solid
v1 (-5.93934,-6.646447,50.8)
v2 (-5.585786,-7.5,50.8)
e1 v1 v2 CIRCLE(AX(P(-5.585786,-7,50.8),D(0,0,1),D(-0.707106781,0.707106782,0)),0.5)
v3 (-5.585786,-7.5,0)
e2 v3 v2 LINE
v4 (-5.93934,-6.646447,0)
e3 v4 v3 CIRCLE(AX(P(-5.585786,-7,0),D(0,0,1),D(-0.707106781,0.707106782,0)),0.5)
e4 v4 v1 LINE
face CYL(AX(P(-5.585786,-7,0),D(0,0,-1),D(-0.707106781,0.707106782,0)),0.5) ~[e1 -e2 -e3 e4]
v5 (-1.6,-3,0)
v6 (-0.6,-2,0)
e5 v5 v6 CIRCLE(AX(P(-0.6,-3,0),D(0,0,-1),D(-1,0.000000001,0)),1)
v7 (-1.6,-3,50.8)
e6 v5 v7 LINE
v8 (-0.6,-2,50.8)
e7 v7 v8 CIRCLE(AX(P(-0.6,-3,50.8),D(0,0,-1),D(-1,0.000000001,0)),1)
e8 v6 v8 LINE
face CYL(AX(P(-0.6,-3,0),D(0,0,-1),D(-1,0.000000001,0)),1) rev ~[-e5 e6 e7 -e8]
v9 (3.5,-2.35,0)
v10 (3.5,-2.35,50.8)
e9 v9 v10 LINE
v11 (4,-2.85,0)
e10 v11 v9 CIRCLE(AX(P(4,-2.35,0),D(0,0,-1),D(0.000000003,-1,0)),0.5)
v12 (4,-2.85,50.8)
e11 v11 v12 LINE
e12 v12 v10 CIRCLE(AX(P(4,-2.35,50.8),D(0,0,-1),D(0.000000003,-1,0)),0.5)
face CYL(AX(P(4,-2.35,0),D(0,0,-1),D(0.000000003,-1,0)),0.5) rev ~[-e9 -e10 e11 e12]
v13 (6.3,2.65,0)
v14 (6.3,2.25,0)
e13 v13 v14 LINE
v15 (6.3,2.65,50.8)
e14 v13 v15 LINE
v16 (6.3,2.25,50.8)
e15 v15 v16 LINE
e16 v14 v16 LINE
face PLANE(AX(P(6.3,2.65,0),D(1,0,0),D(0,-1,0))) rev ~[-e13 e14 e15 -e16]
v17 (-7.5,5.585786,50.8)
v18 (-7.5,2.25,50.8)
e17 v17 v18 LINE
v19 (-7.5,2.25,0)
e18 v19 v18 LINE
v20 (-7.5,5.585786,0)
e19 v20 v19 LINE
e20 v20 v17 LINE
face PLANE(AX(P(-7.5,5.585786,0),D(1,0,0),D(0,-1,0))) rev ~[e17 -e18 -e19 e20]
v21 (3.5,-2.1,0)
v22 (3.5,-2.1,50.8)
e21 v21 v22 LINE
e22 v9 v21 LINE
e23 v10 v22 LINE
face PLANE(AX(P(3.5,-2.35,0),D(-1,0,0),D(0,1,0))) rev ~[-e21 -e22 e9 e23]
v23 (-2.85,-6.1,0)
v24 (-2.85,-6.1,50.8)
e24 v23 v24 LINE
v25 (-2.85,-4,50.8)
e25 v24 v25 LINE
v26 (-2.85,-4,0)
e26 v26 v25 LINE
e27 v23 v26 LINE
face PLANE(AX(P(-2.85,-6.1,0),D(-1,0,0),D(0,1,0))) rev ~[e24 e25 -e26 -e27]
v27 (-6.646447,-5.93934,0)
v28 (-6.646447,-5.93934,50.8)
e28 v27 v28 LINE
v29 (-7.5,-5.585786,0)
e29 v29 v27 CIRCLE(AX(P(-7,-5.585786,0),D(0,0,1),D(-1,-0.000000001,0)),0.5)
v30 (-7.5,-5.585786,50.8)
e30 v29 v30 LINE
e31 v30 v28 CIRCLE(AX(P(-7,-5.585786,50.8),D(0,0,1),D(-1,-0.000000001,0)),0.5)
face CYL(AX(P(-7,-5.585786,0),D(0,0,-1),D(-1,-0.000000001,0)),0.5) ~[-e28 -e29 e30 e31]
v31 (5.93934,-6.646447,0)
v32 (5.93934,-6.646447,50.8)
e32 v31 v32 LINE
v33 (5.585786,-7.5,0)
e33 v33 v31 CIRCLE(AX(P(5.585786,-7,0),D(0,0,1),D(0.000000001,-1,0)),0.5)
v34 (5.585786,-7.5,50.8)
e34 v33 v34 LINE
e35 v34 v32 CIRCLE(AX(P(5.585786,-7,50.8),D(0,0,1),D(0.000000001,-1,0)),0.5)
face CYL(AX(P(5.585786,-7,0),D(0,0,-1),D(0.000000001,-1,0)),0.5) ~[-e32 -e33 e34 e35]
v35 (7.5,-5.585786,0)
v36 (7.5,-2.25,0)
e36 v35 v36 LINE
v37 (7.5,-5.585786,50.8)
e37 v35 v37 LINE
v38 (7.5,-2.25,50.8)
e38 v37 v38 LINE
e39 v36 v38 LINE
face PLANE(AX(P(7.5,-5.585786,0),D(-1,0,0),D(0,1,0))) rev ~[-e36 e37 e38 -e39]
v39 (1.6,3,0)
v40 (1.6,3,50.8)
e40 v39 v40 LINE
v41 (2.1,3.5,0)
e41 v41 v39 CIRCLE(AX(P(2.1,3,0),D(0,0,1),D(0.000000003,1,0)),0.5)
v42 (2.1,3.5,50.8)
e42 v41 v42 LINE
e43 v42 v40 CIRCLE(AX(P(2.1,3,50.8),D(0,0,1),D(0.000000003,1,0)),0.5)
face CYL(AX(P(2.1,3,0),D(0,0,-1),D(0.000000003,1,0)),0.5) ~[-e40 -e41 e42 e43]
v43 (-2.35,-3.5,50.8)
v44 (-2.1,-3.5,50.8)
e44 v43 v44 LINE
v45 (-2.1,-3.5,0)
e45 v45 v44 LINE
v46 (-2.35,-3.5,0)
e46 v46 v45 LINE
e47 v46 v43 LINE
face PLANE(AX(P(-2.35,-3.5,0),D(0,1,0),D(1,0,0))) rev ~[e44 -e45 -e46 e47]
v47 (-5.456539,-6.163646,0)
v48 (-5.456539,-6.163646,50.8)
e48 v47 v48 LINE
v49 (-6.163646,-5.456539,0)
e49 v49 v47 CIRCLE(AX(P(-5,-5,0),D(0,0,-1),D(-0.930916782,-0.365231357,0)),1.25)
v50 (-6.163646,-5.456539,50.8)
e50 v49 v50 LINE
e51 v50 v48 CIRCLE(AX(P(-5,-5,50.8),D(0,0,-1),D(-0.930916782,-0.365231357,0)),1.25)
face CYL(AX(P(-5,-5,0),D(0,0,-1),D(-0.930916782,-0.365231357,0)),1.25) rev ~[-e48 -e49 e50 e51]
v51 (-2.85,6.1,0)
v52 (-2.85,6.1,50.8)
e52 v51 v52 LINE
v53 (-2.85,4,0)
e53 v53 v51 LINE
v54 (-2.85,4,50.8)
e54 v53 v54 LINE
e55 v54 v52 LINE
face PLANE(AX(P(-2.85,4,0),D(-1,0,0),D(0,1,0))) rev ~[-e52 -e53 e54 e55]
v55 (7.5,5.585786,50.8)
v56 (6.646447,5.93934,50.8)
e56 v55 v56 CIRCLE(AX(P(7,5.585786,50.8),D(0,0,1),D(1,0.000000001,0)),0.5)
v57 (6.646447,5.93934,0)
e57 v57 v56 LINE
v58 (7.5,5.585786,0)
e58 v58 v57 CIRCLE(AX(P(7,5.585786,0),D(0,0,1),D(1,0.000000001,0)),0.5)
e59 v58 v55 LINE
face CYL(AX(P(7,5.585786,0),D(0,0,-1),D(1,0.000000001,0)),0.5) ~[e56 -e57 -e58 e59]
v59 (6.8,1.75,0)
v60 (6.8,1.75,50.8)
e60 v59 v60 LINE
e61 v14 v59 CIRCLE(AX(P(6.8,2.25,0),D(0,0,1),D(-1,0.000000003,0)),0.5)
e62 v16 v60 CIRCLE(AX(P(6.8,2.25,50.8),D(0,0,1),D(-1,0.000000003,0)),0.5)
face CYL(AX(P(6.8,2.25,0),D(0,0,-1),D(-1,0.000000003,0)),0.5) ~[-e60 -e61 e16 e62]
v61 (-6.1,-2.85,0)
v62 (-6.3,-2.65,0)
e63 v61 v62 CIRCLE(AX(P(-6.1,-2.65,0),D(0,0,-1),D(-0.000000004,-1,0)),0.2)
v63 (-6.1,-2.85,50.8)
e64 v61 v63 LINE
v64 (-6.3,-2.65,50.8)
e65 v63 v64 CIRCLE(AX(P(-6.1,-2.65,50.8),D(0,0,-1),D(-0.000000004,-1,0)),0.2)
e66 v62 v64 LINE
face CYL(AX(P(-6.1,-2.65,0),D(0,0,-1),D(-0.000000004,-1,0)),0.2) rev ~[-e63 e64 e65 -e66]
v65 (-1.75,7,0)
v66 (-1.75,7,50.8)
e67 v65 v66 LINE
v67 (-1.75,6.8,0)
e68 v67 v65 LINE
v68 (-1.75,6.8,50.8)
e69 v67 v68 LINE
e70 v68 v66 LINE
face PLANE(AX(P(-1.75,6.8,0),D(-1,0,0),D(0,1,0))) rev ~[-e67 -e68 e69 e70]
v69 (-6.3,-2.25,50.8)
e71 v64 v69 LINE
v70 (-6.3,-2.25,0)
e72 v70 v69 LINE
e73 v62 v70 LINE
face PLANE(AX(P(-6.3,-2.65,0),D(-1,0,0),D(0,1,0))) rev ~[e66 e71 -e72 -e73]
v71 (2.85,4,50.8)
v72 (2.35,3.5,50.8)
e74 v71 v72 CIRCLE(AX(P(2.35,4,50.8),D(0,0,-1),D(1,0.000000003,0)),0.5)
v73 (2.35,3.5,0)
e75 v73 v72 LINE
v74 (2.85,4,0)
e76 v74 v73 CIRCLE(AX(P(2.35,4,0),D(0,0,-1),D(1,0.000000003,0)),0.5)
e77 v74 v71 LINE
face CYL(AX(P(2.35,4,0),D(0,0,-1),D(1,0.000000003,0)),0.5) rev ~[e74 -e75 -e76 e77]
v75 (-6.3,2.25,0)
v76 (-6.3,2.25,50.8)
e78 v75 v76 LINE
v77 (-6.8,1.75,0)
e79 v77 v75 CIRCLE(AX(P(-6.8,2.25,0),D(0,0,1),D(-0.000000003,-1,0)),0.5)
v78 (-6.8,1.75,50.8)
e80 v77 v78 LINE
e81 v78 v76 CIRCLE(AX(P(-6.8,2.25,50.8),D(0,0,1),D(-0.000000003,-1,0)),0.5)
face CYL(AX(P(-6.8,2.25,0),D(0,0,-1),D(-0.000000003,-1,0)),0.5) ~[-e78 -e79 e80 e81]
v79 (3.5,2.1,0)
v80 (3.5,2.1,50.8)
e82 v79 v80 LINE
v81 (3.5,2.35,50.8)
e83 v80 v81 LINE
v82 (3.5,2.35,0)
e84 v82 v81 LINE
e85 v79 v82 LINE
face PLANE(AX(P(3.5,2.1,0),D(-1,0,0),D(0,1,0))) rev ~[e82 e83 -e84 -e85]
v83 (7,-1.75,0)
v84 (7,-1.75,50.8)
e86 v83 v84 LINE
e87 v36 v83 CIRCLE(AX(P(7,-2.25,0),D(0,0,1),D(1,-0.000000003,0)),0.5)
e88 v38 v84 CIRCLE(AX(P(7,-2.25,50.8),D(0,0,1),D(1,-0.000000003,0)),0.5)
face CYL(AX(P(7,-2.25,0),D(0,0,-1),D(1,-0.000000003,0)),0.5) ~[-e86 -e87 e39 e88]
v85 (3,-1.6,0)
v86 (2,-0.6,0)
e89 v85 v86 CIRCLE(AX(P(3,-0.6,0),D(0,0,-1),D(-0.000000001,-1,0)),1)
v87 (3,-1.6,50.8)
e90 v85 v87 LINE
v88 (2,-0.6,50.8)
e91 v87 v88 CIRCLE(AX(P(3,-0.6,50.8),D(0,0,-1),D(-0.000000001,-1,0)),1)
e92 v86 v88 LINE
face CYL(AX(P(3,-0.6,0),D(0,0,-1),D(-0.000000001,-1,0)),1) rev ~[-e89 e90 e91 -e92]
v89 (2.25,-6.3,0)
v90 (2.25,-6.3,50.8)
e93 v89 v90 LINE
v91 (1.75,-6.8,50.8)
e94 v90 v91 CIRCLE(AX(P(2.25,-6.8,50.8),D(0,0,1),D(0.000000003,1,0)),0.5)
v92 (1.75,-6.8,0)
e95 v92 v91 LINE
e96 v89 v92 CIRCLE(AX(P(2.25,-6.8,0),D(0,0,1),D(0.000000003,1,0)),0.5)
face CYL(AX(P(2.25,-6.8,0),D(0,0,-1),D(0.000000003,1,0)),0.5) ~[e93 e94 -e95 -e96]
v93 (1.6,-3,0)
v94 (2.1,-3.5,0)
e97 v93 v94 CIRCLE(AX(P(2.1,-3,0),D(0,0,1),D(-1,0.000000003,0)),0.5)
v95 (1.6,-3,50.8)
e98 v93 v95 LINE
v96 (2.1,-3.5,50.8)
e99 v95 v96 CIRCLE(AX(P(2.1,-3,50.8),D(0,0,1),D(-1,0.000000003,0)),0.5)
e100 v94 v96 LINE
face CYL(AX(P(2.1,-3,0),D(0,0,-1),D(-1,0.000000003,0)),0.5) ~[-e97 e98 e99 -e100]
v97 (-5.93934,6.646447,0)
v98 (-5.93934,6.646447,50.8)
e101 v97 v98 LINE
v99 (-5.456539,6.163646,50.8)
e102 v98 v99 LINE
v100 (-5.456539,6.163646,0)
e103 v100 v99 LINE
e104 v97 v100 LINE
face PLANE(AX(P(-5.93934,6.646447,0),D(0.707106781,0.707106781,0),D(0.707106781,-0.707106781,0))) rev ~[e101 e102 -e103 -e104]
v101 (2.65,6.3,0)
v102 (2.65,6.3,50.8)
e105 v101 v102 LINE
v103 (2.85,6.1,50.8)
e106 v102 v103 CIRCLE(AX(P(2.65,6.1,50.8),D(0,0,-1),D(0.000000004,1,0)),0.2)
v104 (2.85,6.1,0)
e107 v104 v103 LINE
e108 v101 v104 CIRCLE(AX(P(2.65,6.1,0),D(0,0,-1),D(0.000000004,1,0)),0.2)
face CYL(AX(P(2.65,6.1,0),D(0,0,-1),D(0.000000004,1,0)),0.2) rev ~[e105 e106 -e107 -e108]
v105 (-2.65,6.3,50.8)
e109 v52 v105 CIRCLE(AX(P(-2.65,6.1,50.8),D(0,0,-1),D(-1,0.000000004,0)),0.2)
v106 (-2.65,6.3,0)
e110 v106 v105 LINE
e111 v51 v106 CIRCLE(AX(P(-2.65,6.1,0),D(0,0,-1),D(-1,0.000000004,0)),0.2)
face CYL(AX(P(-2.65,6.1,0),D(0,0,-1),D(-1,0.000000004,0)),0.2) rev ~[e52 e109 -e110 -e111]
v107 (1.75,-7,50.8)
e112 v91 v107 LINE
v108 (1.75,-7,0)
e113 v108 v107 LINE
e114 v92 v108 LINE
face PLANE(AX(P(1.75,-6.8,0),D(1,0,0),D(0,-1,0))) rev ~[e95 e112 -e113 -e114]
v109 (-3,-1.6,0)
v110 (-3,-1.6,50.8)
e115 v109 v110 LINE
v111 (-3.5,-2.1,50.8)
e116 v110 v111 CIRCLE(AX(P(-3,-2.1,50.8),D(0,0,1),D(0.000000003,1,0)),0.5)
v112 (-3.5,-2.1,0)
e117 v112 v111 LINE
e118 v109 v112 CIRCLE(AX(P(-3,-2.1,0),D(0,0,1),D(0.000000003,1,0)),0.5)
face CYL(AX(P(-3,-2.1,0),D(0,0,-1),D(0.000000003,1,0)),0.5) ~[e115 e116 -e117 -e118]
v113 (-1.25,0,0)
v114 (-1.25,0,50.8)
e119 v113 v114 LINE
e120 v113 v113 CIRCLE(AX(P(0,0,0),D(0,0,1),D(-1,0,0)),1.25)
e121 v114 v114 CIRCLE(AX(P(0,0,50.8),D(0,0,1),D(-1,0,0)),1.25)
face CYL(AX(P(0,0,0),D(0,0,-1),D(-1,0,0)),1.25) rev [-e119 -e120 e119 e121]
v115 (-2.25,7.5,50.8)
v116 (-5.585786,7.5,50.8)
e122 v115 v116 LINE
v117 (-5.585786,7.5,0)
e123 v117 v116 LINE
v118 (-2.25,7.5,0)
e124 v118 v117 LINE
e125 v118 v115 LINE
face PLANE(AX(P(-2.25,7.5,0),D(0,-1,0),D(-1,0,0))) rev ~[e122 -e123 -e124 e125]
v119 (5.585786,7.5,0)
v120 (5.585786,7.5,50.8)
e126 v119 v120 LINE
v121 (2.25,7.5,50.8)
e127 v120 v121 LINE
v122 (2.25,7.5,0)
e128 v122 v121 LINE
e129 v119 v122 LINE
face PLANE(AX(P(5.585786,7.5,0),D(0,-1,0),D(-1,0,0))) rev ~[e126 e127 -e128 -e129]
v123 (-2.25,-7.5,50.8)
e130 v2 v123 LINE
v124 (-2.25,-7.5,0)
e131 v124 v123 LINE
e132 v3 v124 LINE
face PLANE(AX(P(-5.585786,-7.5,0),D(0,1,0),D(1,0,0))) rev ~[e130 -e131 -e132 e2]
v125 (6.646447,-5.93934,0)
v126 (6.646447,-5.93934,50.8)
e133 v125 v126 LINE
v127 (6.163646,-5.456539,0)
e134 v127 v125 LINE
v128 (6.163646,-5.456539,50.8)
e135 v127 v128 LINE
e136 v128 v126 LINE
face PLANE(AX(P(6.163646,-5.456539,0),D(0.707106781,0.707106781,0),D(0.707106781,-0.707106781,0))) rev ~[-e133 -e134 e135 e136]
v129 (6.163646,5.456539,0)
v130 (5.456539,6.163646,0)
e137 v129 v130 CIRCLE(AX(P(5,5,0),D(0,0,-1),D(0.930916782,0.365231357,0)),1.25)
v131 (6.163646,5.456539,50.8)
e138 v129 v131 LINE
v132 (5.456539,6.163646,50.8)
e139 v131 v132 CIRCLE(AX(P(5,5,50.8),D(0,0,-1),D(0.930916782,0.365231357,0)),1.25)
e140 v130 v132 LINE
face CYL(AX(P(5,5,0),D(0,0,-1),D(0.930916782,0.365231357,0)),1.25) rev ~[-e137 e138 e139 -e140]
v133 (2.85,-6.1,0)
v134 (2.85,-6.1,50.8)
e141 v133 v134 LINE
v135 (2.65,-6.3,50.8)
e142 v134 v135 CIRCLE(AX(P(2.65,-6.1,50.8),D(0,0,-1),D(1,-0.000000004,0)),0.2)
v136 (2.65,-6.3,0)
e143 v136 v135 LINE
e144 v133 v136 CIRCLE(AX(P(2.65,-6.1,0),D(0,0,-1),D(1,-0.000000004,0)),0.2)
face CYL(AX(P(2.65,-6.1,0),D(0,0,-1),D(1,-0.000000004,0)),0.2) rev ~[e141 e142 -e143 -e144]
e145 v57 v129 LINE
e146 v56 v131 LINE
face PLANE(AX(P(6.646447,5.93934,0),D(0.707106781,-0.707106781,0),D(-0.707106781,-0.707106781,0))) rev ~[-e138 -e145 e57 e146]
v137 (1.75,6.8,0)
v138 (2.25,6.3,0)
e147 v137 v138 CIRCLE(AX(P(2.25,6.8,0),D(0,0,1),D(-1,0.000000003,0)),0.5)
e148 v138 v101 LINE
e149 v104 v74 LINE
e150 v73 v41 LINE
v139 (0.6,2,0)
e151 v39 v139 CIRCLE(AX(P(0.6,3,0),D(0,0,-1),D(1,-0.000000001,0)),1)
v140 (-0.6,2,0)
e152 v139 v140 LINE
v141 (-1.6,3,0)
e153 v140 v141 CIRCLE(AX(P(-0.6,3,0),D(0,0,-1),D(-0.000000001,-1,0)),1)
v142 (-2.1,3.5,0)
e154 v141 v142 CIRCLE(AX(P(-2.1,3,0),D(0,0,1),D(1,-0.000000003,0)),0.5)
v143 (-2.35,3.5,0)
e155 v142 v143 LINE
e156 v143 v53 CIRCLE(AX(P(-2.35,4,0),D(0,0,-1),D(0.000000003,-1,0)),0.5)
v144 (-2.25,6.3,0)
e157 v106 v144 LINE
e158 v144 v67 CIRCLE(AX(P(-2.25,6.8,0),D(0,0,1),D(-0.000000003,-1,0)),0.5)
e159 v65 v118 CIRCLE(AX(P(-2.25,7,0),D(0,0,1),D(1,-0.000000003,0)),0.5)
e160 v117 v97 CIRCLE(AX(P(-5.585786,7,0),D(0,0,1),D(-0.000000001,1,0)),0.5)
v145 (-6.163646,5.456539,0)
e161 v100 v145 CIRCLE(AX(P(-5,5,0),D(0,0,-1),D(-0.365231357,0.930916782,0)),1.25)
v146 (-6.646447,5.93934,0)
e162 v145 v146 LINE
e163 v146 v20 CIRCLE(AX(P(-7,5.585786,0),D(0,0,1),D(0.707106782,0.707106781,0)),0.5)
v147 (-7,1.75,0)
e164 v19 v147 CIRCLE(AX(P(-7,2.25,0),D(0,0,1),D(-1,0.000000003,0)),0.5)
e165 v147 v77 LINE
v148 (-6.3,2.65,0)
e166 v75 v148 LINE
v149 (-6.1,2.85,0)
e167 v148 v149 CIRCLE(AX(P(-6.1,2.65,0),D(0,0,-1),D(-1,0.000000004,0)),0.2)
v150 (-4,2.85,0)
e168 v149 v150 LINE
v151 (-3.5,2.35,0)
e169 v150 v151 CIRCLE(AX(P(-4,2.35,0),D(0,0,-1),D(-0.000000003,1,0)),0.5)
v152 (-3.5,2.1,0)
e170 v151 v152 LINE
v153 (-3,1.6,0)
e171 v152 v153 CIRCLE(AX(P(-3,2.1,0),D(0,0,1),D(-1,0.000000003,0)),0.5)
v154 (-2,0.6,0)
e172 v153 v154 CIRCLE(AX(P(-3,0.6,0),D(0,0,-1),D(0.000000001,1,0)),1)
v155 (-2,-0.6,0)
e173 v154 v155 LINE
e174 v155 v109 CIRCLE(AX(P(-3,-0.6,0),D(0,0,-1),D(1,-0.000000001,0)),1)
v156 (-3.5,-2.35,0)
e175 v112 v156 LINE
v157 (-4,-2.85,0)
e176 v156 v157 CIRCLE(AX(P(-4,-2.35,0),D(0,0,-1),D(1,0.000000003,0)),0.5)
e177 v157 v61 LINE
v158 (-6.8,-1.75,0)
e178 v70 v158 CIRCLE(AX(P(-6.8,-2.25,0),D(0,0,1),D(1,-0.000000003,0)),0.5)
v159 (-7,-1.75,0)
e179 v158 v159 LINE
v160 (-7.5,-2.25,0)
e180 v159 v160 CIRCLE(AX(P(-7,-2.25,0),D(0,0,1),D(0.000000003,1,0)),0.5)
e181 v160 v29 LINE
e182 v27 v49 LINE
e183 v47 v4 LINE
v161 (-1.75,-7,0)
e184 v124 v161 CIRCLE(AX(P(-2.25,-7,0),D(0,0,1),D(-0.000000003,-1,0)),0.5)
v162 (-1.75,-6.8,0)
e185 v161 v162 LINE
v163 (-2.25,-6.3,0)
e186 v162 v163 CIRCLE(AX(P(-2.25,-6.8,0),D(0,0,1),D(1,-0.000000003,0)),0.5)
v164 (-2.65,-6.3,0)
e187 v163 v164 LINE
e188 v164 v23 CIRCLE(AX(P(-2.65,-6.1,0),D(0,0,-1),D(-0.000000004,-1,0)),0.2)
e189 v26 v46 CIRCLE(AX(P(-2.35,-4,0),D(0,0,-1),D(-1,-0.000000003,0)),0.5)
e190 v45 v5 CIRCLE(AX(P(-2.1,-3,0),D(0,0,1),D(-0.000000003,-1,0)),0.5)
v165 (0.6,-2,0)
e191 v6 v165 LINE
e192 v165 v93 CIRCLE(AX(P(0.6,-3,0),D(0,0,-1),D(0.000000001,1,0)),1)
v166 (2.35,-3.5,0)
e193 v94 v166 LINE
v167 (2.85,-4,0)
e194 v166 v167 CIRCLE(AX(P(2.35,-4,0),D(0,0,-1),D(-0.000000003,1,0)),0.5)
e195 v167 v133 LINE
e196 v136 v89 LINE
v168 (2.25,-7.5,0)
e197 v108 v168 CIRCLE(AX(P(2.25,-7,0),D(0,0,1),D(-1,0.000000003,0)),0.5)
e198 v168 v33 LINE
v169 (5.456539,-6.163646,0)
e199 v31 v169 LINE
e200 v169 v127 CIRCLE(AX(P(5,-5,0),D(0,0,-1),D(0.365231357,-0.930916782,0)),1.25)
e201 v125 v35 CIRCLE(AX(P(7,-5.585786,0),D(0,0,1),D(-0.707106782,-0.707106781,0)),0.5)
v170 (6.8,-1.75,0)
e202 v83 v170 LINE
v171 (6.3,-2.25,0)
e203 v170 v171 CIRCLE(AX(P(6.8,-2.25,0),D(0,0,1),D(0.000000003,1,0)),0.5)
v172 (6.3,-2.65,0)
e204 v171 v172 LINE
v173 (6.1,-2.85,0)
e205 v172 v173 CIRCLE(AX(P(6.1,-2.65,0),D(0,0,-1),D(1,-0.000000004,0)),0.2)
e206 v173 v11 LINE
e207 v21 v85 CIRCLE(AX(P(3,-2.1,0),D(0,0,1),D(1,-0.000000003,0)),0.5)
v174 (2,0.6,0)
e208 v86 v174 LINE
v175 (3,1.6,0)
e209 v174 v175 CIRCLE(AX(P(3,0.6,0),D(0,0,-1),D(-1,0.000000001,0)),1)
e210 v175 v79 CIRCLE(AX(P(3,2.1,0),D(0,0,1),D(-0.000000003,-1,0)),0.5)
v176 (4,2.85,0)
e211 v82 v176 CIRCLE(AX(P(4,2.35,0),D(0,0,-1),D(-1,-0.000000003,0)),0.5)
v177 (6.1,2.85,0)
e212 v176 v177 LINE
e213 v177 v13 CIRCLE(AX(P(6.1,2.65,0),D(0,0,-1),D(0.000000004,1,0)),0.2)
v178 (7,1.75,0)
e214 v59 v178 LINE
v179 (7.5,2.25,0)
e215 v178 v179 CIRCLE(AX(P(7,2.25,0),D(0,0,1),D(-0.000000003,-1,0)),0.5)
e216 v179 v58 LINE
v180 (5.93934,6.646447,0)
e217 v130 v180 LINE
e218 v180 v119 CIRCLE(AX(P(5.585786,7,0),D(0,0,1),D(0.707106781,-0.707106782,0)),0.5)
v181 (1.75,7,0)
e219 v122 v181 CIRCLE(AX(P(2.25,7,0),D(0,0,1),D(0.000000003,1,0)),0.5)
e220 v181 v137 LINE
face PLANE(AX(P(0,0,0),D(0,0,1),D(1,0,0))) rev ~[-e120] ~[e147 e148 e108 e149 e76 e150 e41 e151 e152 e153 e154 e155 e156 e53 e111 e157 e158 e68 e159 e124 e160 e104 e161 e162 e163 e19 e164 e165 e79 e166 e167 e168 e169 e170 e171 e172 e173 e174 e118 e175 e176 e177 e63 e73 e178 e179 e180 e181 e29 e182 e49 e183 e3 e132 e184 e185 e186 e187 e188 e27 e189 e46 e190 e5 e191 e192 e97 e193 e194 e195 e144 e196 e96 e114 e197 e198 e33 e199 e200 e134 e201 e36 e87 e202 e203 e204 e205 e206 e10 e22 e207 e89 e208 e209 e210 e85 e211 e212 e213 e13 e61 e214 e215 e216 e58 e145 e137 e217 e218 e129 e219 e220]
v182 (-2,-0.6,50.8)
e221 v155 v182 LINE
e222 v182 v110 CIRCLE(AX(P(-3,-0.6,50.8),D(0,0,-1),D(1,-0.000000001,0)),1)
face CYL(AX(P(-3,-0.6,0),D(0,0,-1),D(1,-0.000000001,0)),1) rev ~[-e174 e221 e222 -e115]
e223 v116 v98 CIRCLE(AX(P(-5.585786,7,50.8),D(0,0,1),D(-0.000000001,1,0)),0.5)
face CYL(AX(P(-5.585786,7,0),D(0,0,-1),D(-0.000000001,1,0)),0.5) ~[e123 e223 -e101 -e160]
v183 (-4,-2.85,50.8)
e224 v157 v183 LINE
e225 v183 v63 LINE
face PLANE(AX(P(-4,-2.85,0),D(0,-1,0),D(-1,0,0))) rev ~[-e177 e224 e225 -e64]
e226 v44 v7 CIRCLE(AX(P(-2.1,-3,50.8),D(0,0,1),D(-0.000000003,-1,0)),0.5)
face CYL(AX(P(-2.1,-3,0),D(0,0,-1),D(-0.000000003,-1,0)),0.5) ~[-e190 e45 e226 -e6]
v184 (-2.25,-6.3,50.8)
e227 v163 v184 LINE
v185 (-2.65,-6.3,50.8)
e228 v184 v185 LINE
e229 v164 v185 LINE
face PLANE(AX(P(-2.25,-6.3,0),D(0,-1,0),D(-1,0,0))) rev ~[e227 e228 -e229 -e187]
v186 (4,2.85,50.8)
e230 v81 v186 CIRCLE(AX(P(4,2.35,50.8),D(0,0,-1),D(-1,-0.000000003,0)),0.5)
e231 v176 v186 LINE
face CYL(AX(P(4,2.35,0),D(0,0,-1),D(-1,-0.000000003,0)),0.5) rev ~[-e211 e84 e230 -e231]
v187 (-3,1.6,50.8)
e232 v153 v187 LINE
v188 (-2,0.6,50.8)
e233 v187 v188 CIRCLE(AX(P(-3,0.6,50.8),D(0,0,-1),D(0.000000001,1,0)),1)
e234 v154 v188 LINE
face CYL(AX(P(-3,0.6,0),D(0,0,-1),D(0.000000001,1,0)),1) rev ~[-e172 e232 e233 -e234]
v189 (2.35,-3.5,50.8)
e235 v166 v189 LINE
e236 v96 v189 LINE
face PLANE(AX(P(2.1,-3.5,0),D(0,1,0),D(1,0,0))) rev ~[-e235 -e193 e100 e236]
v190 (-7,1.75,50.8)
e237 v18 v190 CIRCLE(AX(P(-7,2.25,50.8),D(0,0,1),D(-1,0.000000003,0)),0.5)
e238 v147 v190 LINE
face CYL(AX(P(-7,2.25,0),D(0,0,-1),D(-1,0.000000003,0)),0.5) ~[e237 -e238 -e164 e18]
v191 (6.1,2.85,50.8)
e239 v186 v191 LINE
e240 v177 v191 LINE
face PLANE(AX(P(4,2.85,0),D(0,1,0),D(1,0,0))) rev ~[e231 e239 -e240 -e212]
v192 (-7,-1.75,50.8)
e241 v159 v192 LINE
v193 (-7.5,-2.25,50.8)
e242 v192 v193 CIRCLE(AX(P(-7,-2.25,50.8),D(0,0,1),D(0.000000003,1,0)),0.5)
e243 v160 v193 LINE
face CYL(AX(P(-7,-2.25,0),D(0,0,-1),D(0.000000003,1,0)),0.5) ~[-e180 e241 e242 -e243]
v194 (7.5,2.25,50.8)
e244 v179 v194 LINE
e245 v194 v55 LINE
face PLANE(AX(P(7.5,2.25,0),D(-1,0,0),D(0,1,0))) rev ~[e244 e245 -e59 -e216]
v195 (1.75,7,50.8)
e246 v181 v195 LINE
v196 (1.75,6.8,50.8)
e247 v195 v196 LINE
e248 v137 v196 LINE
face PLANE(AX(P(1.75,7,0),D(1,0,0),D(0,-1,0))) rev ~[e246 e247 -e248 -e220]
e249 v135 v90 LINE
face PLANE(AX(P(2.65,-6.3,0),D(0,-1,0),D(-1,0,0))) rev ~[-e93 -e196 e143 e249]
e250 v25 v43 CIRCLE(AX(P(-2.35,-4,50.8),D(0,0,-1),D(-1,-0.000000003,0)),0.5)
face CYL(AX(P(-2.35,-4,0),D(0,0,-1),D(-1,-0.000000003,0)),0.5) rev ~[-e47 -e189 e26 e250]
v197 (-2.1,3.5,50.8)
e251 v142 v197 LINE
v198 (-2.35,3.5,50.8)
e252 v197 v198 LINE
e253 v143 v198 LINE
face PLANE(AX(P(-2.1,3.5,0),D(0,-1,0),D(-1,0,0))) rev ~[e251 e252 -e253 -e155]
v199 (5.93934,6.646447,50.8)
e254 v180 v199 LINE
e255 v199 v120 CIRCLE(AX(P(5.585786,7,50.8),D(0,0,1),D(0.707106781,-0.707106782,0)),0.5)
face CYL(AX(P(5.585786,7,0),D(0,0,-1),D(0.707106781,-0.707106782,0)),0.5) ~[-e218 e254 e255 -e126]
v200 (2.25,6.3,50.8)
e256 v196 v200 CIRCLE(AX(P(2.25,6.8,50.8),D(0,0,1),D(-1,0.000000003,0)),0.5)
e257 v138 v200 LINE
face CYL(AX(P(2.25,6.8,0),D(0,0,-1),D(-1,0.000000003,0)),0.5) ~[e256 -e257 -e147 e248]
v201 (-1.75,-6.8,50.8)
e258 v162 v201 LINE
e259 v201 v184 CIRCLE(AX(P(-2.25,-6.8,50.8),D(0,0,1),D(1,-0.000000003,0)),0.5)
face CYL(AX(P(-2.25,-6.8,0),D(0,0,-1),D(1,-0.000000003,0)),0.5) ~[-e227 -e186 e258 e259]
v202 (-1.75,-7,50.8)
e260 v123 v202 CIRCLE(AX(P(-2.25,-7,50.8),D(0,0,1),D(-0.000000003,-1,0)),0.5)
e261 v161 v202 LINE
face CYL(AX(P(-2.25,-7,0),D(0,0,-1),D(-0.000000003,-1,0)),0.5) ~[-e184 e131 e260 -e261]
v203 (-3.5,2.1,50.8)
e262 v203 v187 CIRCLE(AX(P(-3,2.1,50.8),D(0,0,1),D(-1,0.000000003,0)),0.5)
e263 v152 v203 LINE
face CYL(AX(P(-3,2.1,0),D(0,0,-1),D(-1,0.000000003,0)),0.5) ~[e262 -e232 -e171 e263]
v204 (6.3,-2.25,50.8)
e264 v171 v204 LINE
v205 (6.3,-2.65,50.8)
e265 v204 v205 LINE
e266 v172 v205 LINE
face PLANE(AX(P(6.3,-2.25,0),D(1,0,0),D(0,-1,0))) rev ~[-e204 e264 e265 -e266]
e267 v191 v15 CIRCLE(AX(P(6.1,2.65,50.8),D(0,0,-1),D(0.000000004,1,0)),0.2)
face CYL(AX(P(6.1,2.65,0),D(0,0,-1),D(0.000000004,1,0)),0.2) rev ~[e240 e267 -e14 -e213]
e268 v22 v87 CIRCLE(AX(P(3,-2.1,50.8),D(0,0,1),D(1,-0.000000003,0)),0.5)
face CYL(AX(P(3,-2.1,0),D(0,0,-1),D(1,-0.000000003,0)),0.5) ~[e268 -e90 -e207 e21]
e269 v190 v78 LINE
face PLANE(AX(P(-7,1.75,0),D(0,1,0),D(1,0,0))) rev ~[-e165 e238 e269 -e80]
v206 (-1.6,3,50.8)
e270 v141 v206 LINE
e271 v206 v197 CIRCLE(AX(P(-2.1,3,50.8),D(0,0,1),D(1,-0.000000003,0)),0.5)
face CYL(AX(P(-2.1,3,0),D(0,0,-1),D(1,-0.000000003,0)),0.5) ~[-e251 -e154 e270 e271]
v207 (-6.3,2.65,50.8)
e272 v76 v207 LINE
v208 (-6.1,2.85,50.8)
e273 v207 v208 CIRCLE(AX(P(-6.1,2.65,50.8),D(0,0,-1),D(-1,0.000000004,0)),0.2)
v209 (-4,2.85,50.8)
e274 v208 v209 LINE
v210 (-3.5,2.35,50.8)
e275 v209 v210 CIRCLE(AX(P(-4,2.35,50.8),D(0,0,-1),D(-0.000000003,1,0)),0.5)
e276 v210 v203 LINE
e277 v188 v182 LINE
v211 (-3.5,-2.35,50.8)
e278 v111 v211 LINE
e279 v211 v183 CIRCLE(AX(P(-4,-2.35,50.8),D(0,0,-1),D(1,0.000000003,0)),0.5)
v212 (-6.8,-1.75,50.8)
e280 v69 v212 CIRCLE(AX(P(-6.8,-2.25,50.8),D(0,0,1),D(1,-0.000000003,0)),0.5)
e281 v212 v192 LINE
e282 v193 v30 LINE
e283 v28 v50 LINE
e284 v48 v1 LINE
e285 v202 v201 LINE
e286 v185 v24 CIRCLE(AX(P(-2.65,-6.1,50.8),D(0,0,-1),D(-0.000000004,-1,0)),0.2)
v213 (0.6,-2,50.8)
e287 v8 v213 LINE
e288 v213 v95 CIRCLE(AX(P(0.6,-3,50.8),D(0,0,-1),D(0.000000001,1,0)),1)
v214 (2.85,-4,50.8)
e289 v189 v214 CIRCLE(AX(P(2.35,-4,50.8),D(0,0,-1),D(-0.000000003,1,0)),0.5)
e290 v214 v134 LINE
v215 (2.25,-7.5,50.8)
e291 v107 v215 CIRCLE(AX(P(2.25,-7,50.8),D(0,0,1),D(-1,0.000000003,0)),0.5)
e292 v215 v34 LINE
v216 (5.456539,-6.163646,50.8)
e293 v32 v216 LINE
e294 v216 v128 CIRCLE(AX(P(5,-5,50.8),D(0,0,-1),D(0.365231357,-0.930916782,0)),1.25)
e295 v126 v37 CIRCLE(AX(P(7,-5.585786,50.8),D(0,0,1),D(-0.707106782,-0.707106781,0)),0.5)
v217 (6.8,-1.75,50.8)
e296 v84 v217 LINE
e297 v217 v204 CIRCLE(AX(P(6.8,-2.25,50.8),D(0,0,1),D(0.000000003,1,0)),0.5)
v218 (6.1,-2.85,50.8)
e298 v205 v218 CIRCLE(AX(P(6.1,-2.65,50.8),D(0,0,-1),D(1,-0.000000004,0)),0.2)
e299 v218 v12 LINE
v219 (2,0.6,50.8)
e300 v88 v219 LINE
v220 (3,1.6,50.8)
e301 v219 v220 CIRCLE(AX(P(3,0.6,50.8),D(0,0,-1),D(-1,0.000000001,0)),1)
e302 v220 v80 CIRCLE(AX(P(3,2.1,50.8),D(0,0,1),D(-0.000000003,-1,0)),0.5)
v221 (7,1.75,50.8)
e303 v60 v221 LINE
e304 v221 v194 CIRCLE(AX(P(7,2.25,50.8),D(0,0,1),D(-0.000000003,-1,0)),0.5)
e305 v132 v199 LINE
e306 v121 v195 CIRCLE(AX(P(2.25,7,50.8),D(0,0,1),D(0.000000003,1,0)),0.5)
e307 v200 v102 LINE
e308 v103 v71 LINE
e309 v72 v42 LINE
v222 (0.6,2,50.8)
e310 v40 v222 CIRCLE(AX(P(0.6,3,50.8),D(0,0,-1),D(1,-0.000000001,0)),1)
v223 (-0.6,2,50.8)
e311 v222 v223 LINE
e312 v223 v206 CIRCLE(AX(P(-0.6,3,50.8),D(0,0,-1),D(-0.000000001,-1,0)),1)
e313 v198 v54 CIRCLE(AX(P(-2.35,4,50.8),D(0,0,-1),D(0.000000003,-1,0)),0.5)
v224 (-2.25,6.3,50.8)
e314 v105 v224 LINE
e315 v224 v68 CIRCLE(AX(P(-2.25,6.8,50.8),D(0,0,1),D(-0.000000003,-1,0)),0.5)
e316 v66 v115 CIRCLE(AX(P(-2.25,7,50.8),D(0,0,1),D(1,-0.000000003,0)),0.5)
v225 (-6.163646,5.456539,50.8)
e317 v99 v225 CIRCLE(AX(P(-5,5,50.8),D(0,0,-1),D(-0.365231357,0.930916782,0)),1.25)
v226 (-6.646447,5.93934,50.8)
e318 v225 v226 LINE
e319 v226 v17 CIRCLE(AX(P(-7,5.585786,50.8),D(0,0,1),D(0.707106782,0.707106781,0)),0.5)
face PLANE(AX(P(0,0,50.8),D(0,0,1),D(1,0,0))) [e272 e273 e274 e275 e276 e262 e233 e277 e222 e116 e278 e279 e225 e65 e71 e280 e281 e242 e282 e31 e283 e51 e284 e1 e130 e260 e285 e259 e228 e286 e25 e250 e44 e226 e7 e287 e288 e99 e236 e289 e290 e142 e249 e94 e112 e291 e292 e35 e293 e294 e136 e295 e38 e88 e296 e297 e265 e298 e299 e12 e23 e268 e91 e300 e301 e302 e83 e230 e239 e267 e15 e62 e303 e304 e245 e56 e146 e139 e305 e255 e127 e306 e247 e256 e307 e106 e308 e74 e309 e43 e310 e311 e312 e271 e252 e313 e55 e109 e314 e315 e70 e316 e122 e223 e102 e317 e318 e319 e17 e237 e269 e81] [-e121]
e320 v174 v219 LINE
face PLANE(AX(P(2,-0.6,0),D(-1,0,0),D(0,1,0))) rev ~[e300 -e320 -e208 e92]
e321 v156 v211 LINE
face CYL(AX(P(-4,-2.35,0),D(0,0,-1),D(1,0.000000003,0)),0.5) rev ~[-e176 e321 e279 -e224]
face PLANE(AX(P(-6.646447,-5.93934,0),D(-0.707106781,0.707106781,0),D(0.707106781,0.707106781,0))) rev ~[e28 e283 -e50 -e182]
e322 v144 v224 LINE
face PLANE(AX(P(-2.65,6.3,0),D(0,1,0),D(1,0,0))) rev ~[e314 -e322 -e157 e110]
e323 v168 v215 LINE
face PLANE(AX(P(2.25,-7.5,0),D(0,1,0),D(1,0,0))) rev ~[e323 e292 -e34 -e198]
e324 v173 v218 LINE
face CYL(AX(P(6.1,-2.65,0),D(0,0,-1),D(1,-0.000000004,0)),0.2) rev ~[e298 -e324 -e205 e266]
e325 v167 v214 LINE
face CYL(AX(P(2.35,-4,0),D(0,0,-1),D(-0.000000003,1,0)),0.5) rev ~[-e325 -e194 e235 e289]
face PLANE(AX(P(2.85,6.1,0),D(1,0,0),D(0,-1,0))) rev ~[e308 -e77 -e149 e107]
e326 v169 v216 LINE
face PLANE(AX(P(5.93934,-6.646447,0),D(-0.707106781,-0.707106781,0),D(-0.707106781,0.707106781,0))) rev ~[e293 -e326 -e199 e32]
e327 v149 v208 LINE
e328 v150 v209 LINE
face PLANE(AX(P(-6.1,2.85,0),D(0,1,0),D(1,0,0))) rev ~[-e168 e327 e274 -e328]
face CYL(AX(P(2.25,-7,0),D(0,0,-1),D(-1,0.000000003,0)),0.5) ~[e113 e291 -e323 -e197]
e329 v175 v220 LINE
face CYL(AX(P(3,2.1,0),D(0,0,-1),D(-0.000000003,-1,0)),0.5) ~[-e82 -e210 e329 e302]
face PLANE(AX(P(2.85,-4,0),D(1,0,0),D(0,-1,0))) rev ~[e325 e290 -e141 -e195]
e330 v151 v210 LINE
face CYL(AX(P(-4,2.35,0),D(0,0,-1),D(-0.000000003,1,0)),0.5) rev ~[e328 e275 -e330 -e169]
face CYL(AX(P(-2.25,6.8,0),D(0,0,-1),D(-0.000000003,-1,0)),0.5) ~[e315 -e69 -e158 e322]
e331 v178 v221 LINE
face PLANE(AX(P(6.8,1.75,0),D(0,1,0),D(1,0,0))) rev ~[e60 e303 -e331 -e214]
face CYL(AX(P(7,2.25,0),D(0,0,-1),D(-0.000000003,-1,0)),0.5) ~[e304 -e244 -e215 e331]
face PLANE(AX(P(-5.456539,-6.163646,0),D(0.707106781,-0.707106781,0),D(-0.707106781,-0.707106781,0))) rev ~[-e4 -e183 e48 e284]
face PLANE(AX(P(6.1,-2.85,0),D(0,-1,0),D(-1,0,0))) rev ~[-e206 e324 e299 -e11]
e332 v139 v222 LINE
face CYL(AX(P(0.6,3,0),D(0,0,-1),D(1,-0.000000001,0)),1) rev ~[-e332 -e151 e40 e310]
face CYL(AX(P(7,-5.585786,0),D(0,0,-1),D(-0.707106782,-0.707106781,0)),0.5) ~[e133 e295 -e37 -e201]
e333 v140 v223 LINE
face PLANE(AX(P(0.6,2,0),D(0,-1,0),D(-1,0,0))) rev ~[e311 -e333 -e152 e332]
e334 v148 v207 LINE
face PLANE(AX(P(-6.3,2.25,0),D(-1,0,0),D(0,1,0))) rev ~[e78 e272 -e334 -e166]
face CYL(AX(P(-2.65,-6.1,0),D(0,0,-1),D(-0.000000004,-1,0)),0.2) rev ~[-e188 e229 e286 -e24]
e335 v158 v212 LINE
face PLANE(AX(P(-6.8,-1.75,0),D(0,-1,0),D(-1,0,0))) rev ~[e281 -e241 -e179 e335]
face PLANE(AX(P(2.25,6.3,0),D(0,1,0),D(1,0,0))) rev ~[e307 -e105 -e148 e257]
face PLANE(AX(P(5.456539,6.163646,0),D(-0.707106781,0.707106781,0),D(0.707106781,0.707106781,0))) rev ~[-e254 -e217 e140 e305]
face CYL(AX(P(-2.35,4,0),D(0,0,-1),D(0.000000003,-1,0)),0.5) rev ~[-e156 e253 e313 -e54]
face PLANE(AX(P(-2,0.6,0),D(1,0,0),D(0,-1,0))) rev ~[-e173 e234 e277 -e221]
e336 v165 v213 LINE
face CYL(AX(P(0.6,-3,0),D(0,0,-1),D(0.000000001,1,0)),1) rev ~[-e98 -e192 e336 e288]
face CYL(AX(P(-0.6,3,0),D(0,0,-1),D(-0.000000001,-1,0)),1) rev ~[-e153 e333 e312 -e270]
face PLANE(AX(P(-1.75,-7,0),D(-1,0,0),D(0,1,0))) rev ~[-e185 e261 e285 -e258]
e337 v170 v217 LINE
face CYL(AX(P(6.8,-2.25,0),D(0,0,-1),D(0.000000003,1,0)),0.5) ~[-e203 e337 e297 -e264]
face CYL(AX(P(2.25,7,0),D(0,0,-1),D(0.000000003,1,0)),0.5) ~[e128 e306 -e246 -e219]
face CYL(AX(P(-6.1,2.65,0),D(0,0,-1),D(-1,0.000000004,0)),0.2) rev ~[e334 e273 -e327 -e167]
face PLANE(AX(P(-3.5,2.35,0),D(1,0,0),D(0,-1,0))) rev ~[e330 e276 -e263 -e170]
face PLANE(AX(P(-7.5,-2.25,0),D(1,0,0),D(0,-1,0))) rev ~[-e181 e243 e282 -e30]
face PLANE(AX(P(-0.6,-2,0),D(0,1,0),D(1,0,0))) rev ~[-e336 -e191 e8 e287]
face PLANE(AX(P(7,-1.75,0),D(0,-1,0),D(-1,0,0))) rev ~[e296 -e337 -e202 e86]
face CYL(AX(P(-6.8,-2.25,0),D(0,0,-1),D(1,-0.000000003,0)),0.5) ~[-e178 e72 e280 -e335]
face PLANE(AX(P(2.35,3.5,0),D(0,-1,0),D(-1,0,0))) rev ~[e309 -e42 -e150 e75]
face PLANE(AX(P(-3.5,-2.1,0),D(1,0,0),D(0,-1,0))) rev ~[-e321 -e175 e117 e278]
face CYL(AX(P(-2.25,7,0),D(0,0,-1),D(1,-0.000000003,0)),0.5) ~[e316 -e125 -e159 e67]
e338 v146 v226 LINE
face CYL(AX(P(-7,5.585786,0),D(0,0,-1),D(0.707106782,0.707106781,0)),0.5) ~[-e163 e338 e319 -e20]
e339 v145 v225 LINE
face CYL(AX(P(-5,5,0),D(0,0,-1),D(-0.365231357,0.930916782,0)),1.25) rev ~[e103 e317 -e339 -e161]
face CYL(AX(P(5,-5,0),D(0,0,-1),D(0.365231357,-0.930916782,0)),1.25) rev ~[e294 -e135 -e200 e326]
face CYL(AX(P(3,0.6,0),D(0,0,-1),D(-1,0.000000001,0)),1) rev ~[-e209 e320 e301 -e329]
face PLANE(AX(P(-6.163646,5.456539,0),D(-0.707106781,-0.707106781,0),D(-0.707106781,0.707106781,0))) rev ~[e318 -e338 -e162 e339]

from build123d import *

# Parameters (mm, degrees)
SKETCH1_R           = 1.25
BOSS_EXTRUDE1_DEPTH = 50.8


with BuildPart() as part:
    # Sketch1 → Boss-Extrude1 (new body)
    with BuildSketch(Plane.XY):
        with BuildLine():
            Line((6.646446609, 5.939339828), (6.163645978, 5.456539197))
            ThreePointArc((6.163645978, 5.456539197), (4.116116524, 4.116116524), (5.456539197, 6.163645978))
            Line((5.456539197, 6.163645978), (5.939339828, 6.646446609))
            ThreePointArc((5.939339828, 6.646446609), (6.047726204, 7.191341716), (5.585786438, 7.5))
            Line((5.585786438, 7.5), (2.25, 7.5))
            ThreePointArc((2.25, 7.5), (1.896446609, 7.353553391), (1.75, 7))
            Line((1.75, 7), (1.75, 6.8))
            ThreePointArc((1.75, 6.8), (1.896446609, 6.446446609), (2.25, 6.3))
            Line((2.25, 6.3), (2.65, 6.3))
            ThreePointArc((2.65, 6.3), (2.791421356, 6.241421356), (2.85, 6.1))
            Line((2.85, 6.1), (2.85, 4))
            ThreePointArc((2.85, 4), (2.703553391, 3.646446609), (2.35, 3.5))
            Line((2.35, 3.5), (2.1, 3.5))
            ThreePointArc((2.1, 3.5), (1.746446609, 3.353553391), (1.6, 3))
            ThreePointArc((1.6, 3), (1.307106781, 2.292893219), (0.6, 2))
            Line((0.6, 2), (-0.6, 2))
            ThreePointArc((-0.6, 2), (-1.307106781, 2.292893219), (-1.6, 3))
            ThreePointArc((-1.6, 3), (-1.746446609, 3.353553391), (-2.1, 3.5))
            Line((-2.1, 3.5), (-2.35, 3.5))
            ThreePointArc((-2.35, 3.5), (-2.703553391, 3.646446609), (-2.85, 4))
            Line((-2.85, 4), (-2.85, 6.1))
            ThreePointArc((-2.85, 6.1), (-2.791421356, 6.241421356), (-2.65, 6.3))
            Line((-2.65, 6.3), (-2.25, 6.3))
            ThreePointArc((-2.25, 6.3), (-1.896446609, 6.446446609), (-1.75, 6.8))
            Line((-1.75, 6.8), (-1.75, 7))
            ThreePointArc((-1.75, 7), (-1.896446609, 7.353553391), (-2.25, 7.5))
            Line((-2.25, 7.5), (-5.585786438, 7.5))
            ThreePointArc((-5.585786438, 7.5), (-6.047726204, 7.191341716), (-5.939339828, 6.646446609))
            Line((-5.939339828, 6.646446609), (-5.456539197, 6.163645978))
            ThreePointArc((-5.456539197, 6.163645978), (-4.116116524, 4.116116524), (-6.163645978, 5.456539197))
            Line((-6.163645978, 5.456539197), (-6.646446609, 5.939339828))
            ThreePointArc((-6.646446609, 5.939339828), (-7.191341716, 6.047726204), (-7.5, 5.585786438))
            Line((-7.5, 5.585786438), (-7.5, 2.25))
            ThreePointArc((-7.5, 2.25), (-7.353553391, 1.896446609), (-7, 1.75))
            Line((-7, 1.75), (-6.8, 1.75))
            ThreePointArc((-6.8, 1.75), (-6.446446609, 1.896446609), (-6.3, 2.25))
            Line((-6.3, 2.25), (-6.3, 2.65))
            ThreePointArc((-6.3, 2.65), (-6.241421356, 2.791421356), (-6.1, 2.85))
            Line((-6.1, 2.85), (-4, 2.85))
            ThreePointArc((-4, 2.85), (-3.646446609, 2.703553391), (-3.5, 2.35))
            Line((-3.5, 2.35), (-3.5, 2.1))
            ThreePointArc((-3.5, 2.1), (-3.353553391, 1.746446609), (-3, 1.6))
            ThreePointArc((-3, 1.6), (-2.292893219, 1.307106781), (-2, 0.6))
            Line((-2, 0.6), (-2, -0.6))
            ThreePointArc((-2, -0.6), (-2.292893219, -1.307106781), (-3, -1.6))
            ThreePointArc((-3, -1.6), (-3.353553391, -1.746446609), (-3.5, -2.1))
            Line((-3.5, -2.1), (-3.5, -2.35))
            ThreePointArc((-3.5, -2.35), (-3.646446609, -2.703553391), (-4, -2.85))
            Line((-4, -2.85), (-6.1, -2.85))
            ThreePointArc((-6.1, -2.85), (-6.241421356, -2.791421356), (-6.3, -2.65))
            Line((-6.3, -2.65), (-6.3, -2.25))
            ThreePointArc((-6.3, -2.25), (-6.446446609, -1.896446609), (-6.8, -1.75))
            Line((-6.8, -1.75), (-7, -1.75))
            ThreePointArc((-7, -1.75), (-7.353553391, -1.896446609), (-7.5, -2.25))
            Line((-7.5, -2.25), (-7.5, -5.585786438))
            ThreePointArc((-7.5, -5.585786438), (-7.191341716, -6.047726204), (-6.646446609, -5.939339828))
            Line((-6.646446609, -5.939339828), (-6.163645978, -5.456539197))
            ThreePointArc((-6.163645978, -5.456539197), (-4.116116524, -4.116116524), (-5.456539197, -6.163645978))
            Line((-5.456539197, -6.163645978), (-5.939339828, -6.646446609))
            ThreePointArc((-5.939339828, -6.646446609), (-6.047726204, -7.191341716), (-5.585786438, -7.5))
            Line((-5.585786438, -7.5), (-2.25, -7.5))
            ThreePointArc((-2.25, -7.5), (-1.896446609, -7.353553391), (-1.75, -7))
            Line((-1.75, -7), (-1.75, -6.8))
            ThreePointArc((-1.75, -6.8), (-1.896446609, -6.446446609), (-2.25, -6.3))
            Line((-2.25, -6.3), (-2.65, -6.3))
            ThreePointArc((-2.65, -6.3), (-2.791421356, -6.241421356), (-2.85, -6.1))
            Line((-2.85, -6.1), (-2.85, -4))
            ThreePointArc((-2.85, -4), (-2.703553391, -3.646446609), (-2.35, -3.5))
            Line((-2.35, -3.5), (-2.1, -3.5))
            ThreePointArc((-2.1, -3.5), (-1.746446609, -3.353553391), (-1.6, -3))
            ThreePointArc((-1.6, -3), (-1.307106781, -2.292893219), (-0.6, -2))
            Line((-0.6, -2), (0.6, -2))
            ThreePointArc((0.6, -2), (1.307106781, -2.292893219), (1.6, -3))
            ThreePointArc((1.6, -3), (1.746446609, -3.353553391), (2.1, -3.5))
            Line((2.1, -3.5), (2.35, -3.5))
            ThreePointArc((2.35, -3.5), (2.703553391, -3.646446609), (2.85, -4))
            Line((2.85, -4), (2.85, -6.1))
            ThreePointArc((2.85, -6.1), (2.791421356, -6.241421356), (2.65, -6.3))
            Line((2.65, -6.3), (2.25, -6.3))
            ThreePointArc((2.25, -6.3), (1.896446609, -6.446446609), (1.75, -6.8))
            Line((1.75, -6.8), (1.75, -7))
            ThreePointArc((1.75, -7), (1.896446609, -7.353553391), (2.25, -7.5))
            Line((2.25, -7.5), (5.585786438, -7.5))
            ThreePointArc((5.585786438, -7.5), (6.047726204, -7.191341716), (5.939339828, -6.646446609))
            Line((5.939339828, -6.646446609), (5.456539197, -6.163645978))
            ThreePointArc((5.456539197, -6.163645978), (4.116116524, -4.116116524), (6.163645978, -5.456539197))
            Line((6.163645978, -5.456539197), (6.646446609, -5.939339828))
            ThreePointArc((6.646446609, -5.939339828), (7.191341716, -6.047726204), (7.5, -5.585786438))
            Line((7.5, -5.585786438), (7.5, -2.25))
            ThreePointArc((7.5, -2.25), (7.353553391, -1.896446609), (7, -1.75))
            Line((7, -1.75), (6.8, -1.75))
            ThreePointArc((6.8, -1.75), (6.446446609, -1.896446609), (6.3, -2.25))
            Line((6.3, -2.25), (6.3, -2.65))
            ThreePointArc((6.3, -2.65), (6.241421356, -2.791421356), (6.1, -2.85))
            Line((6.1, -2.85), (4, -2.85))
            ThreePointArc((4, -2.85), (3.646446609, -2.703553391), (3.5, -2.35))
            Line((3.5, -2.35), (3.5, -2.1))
            ThreePointArc((3.5, -2.1), (3.353553391, -1.746446609), (3, -1.6))
            ThreePointArc((3, -1.6), (2.292893219, -1.307106781), (2, -0.6))
            Line((2, -0.6), (2, 0.6))
            ThreePointArc((2, 0.6), (2.292893219, 1.307106781), (3, 1.6))
            ThreePointArc((3, 1.6), (3.353553391, 1.746446609), (3.5, 2.1))
            Line((3.5, 2.1), (3.5, 2.35))
            ThreePointArc((3.5, 2.35), (3.646446609, 2.703553391), (4, 2.85))
            Line((4, 2.85), (6.1, 2.85))
            ThreePointArc((6.1, 2.85), (6.241421356, 2.791421356), (6.3, 2.65))
            Line((6.3, 2.65), (6.3, 2.25))
            ThreePointArc((6.3, 2.25), (6.446446609, 1.896446609), (6.8, 1.75))
            Line((6.8, 1.75), (7, 1.75))
            ThreePointArc((7, 1.75), (7.353553391, 1.896446609), (7.5, 2.25))
            Line((7.5, 2.25), (7.5, 5.585786438))
            ThreePointArc((7.5, 5.585786438), (7.191341716, 6.047726204), (6.646446609, 5.939339828))
        make_face()
        with Locations(Location((0, 0, 0), (0, 0, 180))):
            Circle(SKETCH1_R, mode=Mode.SUBTRACT)
    extrude(amount=BOSS_EXTRUDE1_DEPTH)


solid = part.part
